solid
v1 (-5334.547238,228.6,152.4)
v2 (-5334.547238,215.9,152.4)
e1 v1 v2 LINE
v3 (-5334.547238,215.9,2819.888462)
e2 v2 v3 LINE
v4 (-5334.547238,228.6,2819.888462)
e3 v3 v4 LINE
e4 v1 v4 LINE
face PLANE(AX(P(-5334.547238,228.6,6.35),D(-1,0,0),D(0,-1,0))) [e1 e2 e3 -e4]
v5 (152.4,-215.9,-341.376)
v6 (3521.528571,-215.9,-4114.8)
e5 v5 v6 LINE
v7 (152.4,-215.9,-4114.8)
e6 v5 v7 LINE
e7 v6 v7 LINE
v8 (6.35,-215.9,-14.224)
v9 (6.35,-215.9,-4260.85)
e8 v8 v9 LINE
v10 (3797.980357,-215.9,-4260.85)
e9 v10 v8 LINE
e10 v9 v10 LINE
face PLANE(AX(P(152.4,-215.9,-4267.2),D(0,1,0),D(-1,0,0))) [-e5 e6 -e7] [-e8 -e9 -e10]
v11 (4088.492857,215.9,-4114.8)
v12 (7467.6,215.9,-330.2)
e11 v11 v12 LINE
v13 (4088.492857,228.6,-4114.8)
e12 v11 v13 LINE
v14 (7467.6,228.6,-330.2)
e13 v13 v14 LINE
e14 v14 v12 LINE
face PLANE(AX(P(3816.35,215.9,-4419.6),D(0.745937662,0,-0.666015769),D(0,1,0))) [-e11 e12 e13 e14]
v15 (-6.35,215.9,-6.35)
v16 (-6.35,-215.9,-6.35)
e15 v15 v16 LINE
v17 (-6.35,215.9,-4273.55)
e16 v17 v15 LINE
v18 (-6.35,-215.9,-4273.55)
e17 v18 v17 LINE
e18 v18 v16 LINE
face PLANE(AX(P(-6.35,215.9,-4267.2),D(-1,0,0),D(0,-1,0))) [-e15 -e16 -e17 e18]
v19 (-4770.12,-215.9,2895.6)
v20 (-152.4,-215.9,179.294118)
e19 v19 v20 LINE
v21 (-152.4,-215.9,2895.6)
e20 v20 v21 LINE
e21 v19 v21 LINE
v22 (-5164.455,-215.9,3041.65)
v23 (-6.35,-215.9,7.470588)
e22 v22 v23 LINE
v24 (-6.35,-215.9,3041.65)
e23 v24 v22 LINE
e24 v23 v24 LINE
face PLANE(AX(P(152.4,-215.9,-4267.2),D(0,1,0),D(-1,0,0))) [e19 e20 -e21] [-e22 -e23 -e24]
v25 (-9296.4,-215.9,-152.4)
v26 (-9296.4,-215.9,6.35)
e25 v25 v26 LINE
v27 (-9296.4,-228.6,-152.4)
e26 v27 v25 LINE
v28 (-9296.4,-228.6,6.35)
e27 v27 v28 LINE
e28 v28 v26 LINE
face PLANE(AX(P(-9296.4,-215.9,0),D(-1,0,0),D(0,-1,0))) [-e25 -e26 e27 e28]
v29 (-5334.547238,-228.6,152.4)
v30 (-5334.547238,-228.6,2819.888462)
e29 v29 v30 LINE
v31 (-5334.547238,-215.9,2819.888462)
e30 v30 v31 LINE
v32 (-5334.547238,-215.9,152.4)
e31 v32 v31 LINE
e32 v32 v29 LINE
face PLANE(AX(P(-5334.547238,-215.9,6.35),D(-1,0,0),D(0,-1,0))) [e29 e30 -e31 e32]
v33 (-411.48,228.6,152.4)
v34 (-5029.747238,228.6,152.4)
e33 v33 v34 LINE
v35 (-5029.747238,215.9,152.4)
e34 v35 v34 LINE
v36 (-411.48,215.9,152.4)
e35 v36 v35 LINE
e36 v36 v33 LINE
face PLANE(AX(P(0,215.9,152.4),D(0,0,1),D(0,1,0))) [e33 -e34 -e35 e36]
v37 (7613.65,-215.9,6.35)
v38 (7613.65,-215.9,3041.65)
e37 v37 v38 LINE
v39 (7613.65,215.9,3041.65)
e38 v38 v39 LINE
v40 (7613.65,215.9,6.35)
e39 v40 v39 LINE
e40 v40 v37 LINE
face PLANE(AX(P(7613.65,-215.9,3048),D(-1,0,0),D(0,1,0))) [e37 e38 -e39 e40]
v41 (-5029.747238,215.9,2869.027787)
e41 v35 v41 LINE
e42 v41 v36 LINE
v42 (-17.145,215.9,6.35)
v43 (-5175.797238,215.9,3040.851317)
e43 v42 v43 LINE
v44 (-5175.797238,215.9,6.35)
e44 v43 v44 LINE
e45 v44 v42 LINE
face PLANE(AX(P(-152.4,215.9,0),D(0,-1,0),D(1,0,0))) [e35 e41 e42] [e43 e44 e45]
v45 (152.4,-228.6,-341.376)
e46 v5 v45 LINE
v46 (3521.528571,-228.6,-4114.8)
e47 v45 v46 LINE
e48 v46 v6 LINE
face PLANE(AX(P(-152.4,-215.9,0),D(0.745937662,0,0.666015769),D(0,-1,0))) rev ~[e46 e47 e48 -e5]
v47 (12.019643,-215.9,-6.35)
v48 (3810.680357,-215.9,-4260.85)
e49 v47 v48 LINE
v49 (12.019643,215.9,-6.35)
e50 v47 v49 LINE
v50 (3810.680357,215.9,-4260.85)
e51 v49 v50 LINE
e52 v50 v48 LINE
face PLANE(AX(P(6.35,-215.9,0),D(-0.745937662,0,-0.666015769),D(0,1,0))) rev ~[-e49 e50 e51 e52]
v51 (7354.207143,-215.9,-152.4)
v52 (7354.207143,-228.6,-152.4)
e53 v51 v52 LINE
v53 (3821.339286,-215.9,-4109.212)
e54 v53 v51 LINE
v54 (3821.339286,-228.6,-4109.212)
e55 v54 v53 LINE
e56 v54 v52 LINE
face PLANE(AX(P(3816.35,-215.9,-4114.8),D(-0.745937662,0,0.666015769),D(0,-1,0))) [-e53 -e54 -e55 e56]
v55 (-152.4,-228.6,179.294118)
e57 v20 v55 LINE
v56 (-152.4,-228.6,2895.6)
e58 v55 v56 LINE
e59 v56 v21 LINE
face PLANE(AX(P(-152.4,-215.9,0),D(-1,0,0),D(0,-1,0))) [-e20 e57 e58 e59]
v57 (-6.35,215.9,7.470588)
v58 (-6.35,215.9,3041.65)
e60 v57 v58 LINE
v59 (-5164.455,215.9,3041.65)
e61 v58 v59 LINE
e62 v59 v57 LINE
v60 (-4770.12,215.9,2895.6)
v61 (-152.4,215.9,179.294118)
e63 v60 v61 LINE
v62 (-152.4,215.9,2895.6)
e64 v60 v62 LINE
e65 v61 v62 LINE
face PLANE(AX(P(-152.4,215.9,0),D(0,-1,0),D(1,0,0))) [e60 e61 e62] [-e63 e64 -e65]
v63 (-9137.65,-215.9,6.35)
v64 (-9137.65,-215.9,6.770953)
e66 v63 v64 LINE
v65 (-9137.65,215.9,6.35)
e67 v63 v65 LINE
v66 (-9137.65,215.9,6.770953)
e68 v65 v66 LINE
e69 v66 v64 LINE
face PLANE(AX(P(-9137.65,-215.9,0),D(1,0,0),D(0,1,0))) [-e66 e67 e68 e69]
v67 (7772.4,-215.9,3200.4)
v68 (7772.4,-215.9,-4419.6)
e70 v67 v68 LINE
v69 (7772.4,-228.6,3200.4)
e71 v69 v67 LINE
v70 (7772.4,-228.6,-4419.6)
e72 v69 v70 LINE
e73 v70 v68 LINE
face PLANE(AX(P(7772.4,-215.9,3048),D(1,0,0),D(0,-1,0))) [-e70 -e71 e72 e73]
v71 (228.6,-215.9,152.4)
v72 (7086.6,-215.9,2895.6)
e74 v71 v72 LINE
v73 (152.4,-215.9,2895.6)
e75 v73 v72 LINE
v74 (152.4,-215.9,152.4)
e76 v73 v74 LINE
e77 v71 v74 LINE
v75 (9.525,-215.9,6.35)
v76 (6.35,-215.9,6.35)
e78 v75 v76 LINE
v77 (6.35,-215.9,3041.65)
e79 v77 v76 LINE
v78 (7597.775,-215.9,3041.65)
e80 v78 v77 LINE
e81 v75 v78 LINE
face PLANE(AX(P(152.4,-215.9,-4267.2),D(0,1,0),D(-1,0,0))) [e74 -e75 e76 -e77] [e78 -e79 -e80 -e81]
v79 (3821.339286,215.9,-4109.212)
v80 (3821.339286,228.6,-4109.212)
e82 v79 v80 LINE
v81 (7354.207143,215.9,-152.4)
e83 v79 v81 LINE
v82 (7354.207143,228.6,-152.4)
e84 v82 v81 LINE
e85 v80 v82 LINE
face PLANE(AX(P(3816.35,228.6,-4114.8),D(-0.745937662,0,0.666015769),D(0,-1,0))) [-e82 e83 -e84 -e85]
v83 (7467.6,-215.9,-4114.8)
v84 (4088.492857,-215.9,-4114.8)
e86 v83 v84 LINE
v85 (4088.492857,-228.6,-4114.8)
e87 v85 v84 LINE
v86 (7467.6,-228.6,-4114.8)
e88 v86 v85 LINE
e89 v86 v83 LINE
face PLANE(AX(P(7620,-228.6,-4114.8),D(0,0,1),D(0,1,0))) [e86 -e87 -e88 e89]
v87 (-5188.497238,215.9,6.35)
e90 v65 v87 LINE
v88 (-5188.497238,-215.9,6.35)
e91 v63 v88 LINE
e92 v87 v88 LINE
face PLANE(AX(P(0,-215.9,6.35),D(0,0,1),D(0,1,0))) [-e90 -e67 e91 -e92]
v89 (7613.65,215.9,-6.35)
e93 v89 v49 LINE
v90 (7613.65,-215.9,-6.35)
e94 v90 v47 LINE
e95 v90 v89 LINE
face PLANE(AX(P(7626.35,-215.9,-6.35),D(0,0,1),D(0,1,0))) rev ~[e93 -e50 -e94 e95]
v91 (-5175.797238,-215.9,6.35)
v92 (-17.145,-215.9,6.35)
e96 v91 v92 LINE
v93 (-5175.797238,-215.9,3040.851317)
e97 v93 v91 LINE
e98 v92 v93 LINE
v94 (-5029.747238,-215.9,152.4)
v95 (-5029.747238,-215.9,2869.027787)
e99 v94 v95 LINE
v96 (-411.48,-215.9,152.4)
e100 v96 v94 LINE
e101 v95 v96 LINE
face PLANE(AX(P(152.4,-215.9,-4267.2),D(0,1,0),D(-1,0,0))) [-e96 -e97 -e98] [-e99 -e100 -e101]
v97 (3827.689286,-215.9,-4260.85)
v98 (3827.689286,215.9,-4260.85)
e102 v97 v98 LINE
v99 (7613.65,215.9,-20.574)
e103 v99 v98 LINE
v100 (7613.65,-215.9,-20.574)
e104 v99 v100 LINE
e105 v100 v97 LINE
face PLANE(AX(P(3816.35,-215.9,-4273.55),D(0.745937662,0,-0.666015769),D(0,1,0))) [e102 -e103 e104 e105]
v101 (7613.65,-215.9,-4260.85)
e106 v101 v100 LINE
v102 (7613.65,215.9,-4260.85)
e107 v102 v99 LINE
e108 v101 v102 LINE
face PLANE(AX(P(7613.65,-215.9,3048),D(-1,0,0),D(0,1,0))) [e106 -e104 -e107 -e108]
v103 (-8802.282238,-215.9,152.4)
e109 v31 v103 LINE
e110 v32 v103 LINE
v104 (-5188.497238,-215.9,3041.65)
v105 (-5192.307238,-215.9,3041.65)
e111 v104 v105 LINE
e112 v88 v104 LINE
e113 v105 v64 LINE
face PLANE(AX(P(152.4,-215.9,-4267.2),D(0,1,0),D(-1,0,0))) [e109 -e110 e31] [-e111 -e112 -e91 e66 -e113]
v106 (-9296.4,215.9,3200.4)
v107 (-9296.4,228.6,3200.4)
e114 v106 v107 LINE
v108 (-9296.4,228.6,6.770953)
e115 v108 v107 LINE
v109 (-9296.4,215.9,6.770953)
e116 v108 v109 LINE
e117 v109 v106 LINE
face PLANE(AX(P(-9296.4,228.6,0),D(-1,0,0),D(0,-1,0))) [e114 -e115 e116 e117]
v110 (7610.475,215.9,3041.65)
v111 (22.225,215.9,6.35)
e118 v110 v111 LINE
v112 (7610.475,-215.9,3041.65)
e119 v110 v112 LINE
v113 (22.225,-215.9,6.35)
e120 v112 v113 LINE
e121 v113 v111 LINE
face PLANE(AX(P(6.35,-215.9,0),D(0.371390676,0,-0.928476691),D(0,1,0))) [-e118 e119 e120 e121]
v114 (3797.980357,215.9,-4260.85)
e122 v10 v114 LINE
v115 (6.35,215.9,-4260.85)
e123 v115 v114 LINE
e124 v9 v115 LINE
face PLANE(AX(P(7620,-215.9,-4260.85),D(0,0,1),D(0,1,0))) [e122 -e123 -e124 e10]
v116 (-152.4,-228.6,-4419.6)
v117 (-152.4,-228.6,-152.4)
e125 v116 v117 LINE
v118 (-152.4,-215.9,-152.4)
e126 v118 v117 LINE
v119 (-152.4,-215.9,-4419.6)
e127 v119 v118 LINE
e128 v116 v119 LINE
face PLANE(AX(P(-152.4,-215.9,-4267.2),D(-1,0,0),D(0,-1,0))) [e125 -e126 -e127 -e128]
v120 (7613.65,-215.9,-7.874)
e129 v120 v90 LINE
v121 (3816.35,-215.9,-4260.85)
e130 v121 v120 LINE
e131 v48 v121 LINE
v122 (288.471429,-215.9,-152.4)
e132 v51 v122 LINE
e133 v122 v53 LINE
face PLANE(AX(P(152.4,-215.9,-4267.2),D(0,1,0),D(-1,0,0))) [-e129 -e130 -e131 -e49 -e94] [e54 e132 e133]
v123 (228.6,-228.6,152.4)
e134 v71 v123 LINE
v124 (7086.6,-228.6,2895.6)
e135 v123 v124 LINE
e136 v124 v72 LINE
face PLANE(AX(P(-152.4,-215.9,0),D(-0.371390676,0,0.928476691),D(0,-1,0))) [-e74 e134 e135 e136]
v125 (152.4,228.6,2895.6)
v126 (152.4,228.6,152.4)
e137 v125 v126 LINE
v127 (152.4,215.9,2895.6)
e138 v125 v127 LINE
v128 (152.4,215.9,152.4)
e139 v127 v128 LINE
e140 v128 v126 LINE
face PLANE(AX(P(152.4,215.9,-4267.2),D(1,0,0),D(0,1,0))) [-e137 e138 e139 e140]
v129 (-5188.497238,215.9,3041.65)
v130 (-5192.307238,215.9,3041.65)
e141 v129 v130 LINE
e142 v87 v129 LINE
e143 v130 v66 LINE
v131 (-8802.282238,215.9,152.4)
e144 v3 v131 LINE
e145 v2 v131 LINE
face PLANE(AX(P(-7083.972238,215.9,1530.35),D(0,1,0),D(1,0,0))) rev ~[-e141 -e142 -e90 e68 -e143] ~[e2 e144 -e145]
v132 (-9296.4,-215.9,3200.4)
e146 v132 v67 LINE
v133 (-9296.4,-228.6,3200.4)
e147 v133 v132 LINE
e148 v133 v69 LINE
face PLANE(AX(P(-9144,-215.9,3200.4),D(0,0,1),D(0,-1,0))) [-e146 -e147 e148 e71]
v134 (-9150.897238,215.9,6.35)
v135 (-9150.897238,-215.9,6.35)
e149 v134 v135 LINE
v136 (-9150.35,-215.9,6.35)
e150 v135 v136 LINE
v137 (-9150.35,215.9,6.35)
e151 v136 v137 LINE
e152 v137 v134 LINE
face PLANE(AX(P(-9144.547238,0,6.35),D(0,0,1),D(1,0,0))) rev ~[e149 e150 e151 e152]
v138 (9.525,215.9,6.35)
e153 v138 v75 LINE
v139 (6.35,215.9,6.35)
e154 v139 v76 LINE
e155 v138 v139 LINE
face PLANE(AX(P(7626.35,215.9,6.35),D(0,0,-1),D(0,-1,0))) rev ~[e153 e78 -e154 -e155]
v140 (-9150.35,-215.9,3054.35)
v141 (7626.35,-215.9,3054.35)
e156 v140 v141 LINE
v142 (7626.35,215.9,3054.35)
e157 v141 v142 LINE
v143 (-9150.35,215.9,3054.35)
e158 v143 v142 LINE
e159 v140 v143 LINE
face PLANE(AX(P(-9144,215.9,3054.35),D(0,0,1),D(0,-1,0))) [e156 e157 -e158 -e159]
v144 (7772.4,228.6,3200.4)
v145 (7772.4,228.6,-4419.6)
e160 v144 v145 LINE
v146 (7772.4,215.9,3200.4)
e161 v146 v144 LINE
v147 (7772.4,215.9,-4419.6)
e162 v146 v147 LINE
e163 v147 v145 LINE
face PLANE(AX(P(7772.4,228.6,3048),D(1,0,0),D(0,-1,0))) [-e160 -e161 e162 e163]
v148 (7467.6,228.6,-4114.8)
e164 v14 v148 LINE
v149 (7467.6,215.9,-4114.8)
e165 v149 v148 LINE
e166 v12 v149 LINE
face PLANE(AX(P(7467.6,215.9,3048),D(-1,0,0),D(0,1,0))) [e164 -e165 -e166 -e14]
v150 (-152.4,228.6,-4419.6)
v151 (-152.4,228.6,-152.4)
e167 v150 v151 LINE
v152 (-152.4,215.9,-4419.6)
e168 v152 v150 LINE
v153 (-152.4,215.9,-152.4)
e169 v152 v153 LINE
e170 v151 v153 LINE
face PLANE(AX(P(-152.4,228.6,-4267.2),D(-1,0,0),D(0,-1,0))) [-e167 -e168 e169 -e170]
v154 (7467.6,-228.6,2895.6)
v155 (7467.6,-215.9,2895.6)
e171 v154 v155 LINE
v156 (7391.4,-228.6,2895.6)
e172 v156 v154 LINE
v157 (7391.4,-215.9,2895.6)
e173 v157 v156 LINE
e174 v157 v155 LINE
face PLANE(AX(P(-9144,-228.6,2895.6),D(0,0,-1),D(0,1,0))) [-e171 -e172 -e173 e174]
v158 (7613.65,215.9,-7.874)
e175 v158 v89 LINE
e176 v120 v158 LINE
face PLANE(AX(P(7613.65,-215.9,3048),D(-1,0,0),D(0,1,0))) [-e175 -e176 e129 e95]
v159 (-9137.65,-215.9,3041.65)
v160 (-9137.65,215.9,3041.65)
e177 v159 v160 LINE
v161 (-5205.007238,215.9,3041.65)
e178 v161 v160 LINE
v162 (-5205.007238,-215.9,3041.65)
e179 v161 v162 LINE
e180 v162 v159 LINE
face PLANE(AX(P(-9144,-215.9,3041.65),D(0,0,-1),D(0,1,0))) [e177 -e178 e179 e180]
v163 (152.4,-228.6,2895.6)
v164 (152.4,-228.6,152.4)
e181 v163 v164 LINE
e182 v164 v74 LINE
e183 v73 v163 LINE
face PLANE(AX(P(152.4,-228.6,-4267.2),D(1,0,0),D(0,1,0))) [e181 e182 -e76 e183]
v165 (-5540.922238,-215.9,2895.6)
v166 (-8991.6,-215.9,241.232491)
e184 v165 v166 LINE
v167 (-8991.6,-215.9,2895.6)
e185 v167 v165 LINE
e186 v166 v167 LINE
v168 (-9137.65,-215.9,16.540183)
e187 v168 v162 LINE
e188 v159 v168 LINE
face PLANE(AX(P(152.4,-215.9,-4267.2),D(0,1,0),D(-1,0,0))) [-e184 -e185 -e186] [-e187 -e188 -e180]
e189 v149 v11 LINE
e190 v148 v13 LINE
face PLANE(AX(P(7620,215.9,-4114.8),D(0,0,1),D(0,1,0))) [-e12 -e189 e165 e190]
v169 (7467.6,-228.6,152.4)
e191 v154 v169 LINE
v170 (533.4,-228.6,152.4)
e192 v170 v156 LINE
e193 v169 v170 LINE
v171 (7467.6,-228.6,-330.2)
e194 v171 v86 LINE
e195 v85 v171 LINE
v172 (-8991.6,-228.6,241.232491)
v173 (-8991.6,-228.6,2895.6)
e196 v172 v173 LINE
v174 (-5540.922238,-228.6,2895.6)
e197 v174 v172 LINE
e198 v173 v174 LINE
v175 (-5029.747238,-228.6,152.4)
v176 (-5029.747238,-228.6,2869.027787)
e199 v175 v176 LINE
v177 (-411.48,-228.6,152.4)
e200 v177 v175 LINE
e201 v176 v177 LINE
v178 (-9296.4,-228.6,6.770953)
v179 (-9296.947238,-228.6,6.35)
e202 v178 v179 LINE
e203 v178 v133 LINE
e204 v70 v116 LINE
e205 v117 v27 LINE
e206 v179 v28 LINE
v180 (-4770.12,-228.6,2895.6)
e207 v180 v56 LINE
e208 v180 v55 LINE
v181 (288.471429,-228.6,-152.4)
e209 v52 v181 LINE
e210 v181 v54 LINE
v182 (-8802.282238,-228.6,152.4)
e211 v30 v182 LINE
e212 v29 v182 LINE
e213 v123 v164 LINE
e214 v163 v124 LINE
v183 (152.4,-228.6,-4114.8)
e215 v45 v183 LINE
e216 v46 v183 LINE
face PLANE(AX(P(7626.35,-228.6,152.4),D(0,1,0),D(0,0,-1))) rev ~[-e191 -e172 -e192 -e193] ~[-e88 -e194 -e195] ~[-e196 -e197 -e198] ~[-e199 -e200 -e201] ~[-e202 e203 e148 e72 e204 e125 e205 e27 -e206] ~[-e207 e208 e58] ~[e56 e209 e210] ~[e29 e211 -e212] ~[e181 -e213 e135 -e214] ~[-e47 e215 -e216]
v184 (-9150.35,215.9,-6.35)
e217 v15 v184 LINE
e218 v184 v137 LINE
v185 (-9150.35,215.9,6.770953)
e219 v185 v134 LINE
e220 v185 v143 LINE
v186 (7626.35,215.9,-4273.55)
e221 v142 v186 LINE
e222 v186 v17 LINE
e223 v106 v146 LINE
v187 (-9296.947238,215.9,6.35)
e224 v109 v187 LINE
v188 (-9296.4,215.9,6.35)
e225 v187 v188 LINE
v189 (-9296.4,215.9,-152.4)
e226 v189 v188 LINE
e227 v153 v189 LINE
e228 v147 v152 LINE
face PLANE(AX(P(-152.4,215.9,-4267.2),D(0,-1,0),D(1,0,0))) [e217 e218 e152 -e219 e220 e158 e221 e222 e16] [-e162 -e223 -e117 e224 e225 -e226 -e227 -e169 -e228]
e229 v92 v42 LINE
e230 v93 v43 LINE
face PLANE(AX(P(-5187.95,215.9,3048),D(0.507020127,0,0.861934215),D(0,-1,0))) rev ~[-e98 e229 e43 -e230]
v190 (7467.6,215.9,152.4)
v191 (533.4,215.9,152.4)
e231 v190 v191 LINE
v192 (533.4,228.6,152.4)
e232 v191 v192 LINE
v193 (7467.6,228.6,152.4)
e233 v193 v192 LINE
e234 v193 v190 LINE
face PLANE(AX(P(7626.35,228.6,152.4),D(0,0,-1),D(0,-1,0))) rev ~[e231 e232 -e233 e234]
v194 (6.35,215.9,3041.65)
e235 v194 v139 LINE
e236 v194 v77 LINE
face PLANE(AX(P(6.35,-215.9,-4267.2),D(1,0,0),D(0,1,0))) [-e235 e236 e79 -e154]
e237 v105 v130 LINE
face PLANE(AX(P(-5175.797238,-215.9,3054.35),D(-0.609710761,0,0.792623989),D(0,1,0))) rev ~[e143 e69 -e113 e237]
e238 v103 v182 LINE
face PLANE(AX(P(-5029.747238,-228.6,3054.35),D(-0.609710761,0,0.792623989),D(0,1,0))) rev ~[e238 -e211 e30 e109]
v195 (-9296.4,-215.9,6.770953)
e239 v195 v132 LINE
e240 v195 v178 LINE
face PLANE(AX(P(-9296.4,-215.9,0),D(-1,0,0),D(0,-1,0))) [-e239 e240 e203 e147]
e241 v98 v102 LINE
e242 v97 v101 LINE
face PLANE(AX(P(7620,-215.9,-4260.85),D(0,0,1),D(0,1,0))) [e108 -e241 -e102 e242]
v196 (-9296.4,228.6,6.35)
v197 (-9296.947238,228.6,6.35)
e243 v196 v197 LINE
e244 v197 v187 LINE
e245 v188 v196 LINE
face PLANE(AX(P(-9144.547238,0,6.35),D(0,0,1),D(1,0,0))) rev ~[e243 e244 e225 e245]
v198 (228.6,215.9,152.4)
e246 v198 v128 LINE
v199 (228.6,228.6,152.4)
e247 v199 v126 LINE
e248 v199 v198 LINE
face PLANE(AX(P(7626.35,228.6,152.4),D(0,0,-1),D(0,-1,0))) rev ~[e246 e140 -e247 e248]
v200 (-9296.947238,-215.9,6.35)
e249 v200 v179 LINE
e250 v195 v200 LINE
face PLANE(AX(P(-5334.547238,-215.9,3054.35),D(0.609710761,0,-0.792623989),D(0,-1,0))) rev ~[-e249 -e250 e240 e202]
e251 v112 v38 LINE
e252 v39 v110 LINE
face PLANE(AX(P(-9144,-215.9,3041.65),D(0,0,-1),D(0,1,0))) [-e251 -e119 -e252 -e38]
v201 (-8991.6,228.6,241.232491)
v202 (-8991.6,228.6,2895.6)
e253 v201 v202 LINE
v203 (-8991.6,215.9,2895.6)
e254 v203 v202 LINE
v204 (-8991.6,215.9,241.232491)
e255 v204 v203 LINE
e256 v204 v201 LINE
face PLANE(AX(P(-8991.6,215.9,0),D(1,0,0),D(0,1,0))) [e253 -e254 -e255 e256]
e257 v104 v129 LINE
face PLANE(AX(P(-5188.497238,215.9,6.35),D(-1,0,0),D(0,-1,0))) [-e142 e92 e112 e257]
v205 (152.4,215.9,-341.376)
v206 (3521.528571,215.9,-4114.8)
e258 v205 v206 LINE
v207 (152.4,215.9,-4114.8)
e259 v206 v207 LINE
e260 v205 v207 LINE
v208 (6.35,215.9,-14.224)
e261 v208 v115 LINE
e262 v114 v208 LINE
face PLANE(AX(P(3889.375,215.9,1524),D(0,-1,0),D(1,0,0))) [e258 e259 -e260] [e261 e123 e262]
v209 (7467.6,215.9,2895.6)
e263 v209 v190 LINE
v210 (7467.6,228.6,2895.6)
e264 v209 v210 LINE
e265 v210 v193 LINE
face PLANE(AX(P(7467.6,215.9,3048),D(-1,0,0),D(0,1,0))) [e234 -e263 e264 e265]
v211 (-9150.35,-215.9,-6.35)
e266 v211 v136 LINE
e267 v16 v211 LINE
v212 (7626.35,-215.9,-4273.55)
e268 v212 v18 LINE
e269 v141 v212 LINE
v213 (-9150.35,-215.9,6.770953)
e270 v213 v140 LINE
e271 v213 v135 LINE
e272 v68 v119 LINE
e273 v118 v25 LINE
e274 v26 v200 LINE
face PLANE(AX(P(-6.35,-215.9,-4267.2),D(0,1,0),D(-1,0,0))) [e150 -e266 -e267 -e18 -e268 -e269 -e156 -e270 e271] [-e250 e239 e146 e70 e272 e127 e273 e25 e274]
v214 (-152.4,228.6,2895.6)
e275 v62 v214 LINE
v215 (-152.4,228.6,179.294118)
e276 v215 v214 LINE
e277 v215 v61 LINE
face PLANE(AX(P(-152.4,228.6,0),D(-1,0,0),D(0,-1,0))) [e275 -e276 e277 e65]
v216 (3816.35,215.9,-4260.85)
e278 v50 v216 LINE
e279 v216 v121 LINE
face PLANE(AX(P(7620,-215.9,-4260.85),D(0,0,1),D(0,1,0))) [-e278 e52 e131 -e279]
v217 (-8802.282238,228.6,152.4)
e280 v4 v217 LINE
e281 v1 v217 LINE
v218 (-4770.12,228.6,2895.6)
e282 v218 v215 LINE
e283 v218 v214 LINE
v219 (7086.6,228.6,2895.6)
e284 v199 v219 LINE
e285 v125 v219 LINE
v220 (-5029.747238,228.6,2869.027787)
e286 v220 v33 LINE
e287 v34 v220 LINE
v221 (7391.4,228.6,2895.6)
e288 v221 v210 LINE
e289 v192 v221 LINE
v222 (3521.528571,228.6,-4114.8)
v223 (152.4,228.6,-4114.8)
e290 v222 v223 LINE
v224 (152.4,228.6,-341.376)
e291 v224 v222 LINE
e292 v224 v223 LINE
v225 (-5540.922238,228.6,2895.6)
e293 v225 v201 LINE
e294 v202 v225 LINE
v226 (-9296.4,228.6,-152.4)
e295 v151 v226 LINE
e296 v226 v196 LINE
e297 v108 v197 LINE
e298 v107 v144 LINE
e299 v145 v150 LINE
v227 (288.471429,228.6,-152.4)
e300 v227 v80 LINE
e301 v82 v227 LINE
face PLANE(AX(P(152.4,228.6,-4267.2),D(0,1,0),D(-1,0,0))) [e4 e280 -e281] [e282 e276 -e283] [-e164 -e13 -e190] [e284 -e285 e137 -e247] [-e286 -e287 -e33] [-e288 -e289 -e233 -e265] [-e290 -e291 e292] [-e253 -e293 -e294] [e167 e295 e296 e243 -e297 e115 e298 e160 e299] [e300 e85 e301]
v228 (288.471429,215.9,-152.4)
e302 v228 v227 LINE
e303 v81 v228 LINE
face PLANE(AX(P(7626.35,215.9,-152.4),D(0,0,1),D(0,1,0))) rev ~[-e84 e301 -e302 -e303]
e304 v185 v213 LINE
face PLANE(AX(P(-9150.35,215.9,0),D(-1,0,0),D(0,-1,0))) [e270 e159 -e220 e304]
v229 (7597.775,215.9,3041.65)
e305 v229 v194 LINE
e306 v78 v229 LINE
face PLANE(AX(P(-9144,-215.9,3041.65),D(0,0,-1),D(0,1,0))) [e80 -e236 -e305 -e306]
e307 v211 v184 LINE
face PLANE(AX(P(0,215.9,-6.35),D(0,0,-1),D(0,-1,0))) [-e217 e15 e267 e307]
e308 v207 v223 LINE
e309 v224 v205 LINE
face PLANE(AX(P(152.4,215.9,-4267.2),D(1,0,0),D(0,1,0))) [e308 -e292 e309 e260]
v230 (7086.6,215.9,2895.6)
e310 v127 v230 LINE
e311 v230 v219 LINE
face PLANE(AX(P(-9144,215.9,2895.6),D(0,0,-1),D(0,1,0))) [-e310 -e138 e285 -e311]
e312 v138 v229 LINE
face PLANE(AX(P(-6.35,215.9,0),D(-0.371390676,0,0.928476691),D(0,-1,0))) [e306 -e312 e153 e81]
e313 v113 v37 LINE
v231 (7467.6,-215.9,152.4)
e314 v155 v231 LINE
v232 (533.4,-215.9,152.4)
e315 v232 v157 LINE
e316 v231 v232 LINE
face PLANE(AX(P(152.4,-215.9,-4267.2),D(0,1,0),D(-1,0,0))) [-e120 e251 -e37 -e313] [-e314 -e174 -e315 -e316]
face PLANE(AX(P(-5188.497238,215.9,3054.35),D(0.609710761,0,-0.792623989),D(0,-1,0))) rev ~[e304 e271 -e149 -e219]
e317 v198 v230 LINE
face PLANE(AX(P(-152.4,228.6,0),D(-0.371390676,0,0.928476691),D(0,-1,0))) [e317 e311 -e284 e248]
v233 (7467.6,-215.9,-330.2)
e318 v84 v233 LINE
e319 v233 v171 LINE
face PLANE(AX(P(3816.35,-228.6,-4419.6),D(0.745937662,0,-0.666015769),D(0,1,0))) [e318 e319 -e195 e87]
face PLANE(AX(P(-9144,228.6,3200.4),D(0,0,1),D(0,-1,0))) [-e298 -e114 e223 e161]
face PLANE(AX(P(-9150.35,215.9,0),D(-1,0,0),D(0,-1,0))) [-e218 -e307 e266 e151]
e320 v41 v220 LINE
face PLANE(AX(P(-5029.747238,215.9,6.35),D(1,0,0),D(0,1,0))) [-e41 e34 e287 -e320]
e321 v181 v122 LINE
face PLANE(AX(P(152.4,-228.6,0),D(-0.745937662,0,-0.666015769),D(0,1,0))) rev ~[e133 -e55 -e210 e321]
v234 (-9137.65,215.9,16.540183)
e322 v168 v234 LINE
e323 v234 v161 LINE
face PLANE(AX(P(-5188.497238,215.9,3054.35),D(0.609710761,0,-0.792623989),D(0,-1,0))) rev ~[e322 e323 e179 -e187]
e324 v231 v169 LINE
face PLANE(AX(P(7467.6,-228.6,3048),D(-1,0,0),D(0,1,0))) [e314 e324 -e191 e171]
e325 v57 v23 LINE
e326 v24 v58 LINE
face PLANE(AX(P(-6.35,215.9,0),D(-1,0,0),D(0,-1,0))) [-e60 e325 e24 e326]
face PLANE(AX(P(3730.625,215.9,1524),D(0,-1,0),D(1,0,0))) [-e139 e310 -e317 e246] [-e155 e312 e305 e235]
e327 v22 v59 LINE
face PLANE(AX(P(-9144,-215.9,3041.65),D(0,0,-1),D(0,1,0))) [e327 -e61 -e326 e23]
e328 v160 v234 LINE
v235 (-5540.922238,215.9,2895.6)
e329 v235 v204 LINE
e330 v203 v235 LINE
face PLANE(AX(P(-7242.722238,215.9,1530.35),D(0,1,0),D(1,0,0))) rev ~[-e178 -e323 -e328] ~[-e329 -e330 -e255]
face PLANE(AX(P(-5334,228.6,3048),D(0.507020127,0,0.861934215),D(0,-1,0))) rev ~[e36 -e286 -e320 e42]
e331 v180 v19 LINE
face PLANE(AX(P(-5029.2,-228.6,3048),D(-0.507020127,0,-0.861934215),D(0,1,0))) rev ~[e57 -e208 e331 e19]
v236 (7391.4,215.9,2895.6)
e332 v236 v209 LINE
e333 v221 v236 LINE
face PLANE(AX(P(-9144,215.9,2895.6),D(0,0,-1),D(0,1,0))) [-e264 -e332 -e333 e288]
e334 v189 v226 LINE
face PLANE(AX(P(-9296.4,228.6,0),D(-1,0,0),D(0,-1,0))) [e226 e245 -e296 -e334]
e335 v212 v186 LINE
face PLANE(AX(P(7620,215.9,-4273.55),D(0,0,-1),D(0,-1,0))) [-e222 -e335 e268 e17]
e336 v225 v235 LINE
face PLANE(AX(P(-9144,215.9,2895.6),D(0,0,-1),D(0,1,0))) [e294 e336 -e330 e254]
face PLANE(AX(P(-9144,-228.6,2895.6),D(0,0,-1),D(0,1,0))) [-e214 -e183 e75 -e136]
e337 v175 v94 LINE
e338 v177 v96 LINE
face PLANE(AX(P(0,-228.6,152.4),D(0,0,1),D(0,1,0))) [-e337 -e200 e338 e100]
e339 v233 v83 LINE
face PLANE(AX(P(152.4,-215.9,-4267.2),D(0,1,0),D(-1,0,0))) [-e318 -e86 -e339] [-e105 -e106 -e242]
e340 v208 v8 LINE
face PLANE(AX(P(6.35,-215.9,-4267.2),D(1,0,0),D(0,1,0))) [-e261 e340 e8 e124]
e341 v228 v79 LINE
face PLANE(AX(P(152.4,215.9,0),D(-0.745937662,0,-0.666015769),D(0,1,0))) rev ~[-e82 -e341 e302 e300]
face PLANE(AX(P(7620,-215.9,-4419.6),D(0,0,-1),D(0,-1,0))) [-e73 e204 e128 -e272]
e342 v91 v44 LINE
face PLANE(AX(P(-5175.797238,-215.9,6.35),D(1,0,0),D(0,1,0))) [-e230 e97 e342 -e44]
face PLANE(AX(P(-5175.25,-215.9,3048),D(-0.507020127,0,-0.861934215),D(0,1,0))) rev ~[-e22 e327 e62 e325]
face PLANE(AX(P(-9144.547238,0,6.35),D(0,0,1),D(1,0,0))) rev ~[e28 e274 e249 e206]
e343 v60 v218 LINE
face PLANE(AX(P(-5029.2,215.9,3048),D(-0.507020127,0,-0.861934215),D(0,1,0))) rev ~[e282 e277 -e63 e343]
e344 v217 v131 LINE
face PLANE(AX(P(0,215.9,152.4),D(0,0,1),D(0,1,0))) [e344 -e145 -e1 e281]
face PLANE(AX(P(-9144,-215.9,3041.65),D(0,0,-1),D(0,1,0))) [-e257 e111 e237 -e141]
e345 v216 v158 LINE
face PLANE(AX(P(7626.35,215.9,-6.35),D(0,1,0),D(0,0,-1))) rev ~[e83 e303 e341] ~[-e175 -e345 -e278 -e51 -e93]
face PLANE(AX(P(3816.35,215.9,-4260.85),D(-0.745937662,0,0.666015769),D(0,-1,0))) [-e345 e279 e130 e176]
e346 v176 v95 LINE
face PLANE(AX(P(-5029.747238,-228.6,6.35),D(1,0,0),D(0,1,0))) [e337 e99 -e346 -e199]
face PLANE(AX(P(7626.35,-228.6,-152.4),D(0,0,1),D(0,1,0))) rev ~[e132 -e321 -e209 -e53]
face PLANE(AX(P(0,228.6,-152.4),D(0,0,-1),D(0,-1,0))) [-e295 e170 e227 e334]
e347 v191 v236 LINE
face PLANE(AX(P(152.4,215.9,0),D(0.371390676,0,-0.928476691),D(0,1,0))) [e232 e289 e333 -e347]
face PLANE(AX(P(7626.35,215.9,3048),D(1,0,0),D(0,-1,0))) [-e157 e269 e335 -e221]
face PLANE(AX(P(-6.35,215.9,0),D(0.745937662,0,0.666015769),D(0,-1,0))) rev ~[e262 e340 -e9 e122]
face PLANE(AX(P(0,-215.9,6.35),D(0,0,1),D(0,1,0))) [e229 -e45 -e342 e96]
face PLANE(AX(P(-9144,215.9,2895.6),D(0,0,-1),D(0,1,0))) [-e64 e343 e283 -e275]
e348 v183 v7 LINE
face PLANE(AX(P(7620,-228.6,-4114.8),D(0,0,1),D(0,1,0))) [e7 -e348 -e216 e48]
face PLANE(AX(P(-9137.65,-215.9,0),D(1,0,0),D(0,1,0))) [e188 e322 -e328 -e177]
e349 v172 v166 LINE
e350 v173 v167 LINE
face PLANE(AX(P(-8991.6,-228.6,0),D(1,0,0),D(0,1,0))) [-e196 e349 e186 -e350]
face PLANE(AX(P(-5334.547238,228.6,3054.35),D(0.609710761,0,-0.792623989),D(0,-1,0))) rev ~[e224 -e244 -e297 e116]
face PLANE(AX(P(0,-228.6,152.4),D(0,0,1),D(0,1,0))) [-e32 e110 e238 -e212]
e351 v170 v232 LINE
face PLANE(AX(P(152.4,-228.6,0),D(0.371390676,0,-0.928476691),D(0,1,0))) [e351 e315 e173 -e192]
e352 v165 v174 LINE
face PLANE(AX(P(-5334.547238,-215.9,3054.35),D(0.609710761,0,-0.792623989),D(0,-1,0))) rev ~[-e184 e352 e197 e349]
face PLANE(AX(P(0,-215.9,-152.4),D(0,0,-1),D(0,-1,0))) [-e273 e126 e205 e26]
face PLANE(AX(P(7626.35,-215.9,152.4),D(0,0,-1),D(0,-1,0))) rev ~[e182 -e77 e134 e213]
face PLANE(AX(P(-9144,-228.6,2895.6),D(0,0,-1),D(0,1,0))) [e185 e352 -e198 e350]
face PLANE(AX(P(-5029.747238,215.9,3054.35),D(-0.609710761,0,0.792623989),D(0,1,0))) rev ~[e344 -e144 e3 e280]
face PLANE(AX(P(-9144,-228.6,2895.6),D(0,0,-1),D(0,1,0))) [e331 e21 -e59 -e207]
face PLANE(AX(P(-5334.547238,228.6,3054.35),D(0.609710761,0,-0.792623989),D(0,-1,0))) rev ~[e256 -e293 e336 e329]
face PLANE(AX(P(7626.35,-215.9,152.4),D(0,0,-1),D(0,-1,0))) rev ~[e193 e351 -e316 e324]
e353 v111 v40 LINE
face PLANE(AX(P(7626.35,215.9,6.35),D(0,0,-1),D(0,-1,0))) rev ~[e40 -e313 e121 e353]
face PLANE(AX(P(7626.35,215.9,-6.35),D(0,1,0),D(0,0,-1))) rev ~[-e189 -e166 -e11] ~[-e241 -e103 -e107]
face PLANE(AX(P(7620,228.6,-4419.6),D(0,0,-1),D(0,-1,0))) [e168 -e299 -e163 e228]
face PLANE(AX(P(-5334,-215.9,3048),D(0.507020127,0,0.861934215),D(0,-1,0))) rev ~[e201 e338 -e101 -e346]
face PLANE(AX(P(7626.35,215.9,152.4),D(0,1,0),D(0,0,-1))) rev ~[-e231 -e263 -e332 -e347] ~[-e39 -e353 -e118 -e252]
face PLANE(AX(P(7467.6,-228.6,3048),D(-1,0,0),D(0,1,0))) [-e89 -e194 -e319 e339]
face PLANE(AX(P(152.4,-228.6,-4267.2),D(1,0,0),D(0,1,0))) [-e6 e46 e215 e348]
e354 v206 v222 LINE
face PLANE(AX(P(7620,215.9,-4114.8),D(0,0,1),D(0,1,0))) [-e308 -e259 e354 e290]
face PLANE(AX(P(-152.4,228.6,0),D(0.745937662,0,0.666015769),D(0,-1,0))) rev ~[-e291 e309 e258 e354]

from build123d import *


with BuildPart() as f3:
    # F3: sweep along a path in F1
    with BuildLine(Plane.XZ) as f3_path:
        Line((0, -4267.2), (0, 0))
        Line((0, 0), (-9144, 0))
        Line((-9144, 0), (-9144, 3048))
        Line((-9144, 3048), (0, 3048))
        Line((0, 3048), (7620, 3048))
        Line((7620, 3048), (7620, -4267.2))
        Line((7620, -4267.2), (0, -4267.2))
    # F2 (on Top) → F3 (sweep)
    with BuildSketch(Plane.XY):
        Polygon((152.4, 228.6), (6.35, 228.6), (0, 228.6), (-6.35, 228.6), (-152.4, 228.6), (-152.4, 215.9), (-6.35, 215.9), (-6.35, -215.9), (-152.4, -215.9), (-152.4, -228.6), (-6.35, -228.6), (6.35, -228.6), (152.4, -228.6), (152.4, -215.9), (6.35, -215.9), (6.35, 215.9), (152.4, 215.9), align=None)
    sweep(path=f3_path.line, transition=Transition.RIGHT)

    # F4: sweep along a path in F0
    with BuildLine(Plane.XZ) as f4_path:
        Line((0, 0), (0, 3048))
    # F2 (on Top) → F4 (sweep)
    with BuildSketch(Plane.XY):
        Polygon((152.4, 228.6), (6.35, 228.6), (0, 228.6), (-6.35, 228.6), (-152.4, 228.6), (-152.4, 215.9), (-6.35, 215.9), (-6.35, -215.9), (-152.4, -215.9), (-152.4, -228.6), (-6.35, -228.6), (6.35, -228.6), (152.4, -228.6), (152.4, -215.9), (6.35, -215.9), (6.35, 215.9), (152.4, 215.9), align=None)
    sweep(path=f4_path.line)

    # F5: sweep along a path in F0
    with BuildLine(Plane.XZ) as f5_path:
        Line((0, 0), (7620, 3048))
    # F2 (on Top) → F5 (sweep)
    with BuildSketch(Plane.XY):
        Polygon((152.4, 228.6), (6.35, 228.6), (0, 228.6), (-6.35, 228.6), (-152.4, 228.6), (-152.4, 215.9), (-6.35, 215.9), (-6.35, -215.9), (-152.4, -215.9), (-152.4, -228.6), (-6.35, -228.6), (6.35, -228.6), (152.4, -228.6), (152.4, -215.9), (6.35, -215.9), (6.35, 215.9), (152.4, 215.9), align=None)
    sweep(path=f5_path.line)

    # F6: sweep along a path in F0
    with BuildLine(Plane.XZ) as f6_path:
        Line((-5181.6, 3048), (0, 0))
    # F2 (on Top) → F6 (sweep)
    with BuildSketch(Plane.XY):
        Polygon((152.4, 228.6), (6.35, 228.6), (0, 228.6), (-6.35, 228.6), (-152.4, 228.6), (-152.4, 215.9), (-6.35, 215.9), (-6.35, -215.9), (-152.4, -215.9), (-152.4, -228.6), (-6.35, -228.6), (6.35, -228.6), (152.4, -228.6), (152.4, -215.9), (6.35, -215.9), (6.35, 215.9), (152.4, 215.9), align=None)
    sweep(path=f6_path.line)

    # F7: sweep along a path in F0
    with BuildLine(Plane.XZ) as f7_path:
        Line((0, 0), (3810, -4267.2))
    # F2 (on Top) → F7 (sweep)
    with BuildSketch(Plane.XY):
        Polygon((152.4, 228.6), (6.35, 228.6), (0, 228.6), (-6.35, 228.6), (-152.4, 228.6), (-152.4, 215.9), (-6.35, 215.9), (-6.35, -215.9), (-152.4, -215.9), (-152.4, -228.6), (-6.35, -228.6), (6.35, -228.6), (152.4, -228.6), (152.4, -215.9), (6.35, -215.9), (6.35, 215.9), (152.4, 215.9), align=None)
    sweep(path=f7_path.line)

    # F9: sweep along a path in F0
    with BuildLine(Plane.XZ) as f9_path:
        Line((-5181.6, 0), (-5181.6, 3048))
    # F8 (on face) → F9 (sweep)
    with BuildSketch(Plane.XY.offset(3054.35)):
        Polygon((-5029.7472383198, 228.6), (-5175.7972383198, 228.6), (-5188.4972383198, 228.6), (-5334.5472383198, 228.6), (-5334.5472383198, 215.9), (-5188.4972383198, 215.9), (-5188.4972383198, -215.9), (-5334.5472383198, -215.9), (-5334.5472383198, -228.6), (-5188.4972383198, -228.6), (-5175.7972383198, -228.6), (-5029.7472383198, -228.6), (-5029.7472383198, -215.9), (-5175.7972383198, -215.9), (-5175.7972383198, 215.9), (-5029.7472383198, 215.9), align=None)
    sweep(path=f9_path.line)

    # F10: sweep along a path in F0
    with BuildLine(Plane.XZ) as f10_path:
        Line((-5181.6, 3048), (-9144, 0))
    # F8 (on face) → F10 (sweep)
    with BuildSketch(Plane.XY.offset(3054.35)):
        Polygon((-5029.7472383198, 228.6), (-5175.7972383198, 228.6), (-5188.4972383198, 228.6), (-5334.5472383198, 228.6), (-5334.5472383198, 215.9), (-5188.4972383198, 215.9), (-5188.4972383198, -215.9), (-5334.5472383198, -215.9), (-5334.5472383198, -228.6), (-5188.4972383198, -228.6), (-5175.7972383198, -228.6), (-5029.7472383198, -228.6), (-5029.7472383198, -215.9), (-5175.7972383198, -215.9), (-5175.7972383198, 215.9), (-5029.7472383198, 215.9), align=None)
    sweep(path=f10_path.line)

    # F12: sweep along a path in F0
    with BuildLine(Plane.XZ) as f12_path:
        Line((7620, 0), (0, 0))
    # F11 (on face) → F12 (sweep)
    with BuildSketch(Plane.YZ.offset(7626.35)):
        Polygon((228.6, -152.4), (228.6, -6.35), (228.6, 0), (228.6, 6.35), (228.6, 152.4), (215.9, 152.4), (215.9, 6.35), (-215.9, 6.35), (-215.9, 152.4), (-228.6, 152.4), (-228.6, 6.35), (-228.6, -6.35), (-228.6, -152.4), (-215.9, -152.4), (-215.9, -6.35), (215.9, -6.35), (215.9, -152.4), align=None)
    sweep(path=f12_path.line)

    # F13: sweep along a path in F0
    with BuildLine(Plane.XZ) as f13_path:
        Line((3810, -4267.2), (7620, 0))
    # F11 (on face) → F13 (sweep)
    with BuildSketch(Plane.YZ.offset(7626.35)):
        Polygon((228.6, -152.4), (228.6, -6.35), (228.6, 0), (228.6, 6.35), (228.6, 152.4), (215.9, 152.4), (215.9, 6.35), (-215.9, 6.35), (-215.9, 152.4), (-228.6, 152.4), (-228.6, 6.35), (-228.6, -6.35), (-228.6, -152.4), (-215.9, -152.4), (-215.9, -6.35), (215.9, -6.35), (215.9, -152.4), align=None)
    sweep(path=f13_path.line)


solid = f3.part
